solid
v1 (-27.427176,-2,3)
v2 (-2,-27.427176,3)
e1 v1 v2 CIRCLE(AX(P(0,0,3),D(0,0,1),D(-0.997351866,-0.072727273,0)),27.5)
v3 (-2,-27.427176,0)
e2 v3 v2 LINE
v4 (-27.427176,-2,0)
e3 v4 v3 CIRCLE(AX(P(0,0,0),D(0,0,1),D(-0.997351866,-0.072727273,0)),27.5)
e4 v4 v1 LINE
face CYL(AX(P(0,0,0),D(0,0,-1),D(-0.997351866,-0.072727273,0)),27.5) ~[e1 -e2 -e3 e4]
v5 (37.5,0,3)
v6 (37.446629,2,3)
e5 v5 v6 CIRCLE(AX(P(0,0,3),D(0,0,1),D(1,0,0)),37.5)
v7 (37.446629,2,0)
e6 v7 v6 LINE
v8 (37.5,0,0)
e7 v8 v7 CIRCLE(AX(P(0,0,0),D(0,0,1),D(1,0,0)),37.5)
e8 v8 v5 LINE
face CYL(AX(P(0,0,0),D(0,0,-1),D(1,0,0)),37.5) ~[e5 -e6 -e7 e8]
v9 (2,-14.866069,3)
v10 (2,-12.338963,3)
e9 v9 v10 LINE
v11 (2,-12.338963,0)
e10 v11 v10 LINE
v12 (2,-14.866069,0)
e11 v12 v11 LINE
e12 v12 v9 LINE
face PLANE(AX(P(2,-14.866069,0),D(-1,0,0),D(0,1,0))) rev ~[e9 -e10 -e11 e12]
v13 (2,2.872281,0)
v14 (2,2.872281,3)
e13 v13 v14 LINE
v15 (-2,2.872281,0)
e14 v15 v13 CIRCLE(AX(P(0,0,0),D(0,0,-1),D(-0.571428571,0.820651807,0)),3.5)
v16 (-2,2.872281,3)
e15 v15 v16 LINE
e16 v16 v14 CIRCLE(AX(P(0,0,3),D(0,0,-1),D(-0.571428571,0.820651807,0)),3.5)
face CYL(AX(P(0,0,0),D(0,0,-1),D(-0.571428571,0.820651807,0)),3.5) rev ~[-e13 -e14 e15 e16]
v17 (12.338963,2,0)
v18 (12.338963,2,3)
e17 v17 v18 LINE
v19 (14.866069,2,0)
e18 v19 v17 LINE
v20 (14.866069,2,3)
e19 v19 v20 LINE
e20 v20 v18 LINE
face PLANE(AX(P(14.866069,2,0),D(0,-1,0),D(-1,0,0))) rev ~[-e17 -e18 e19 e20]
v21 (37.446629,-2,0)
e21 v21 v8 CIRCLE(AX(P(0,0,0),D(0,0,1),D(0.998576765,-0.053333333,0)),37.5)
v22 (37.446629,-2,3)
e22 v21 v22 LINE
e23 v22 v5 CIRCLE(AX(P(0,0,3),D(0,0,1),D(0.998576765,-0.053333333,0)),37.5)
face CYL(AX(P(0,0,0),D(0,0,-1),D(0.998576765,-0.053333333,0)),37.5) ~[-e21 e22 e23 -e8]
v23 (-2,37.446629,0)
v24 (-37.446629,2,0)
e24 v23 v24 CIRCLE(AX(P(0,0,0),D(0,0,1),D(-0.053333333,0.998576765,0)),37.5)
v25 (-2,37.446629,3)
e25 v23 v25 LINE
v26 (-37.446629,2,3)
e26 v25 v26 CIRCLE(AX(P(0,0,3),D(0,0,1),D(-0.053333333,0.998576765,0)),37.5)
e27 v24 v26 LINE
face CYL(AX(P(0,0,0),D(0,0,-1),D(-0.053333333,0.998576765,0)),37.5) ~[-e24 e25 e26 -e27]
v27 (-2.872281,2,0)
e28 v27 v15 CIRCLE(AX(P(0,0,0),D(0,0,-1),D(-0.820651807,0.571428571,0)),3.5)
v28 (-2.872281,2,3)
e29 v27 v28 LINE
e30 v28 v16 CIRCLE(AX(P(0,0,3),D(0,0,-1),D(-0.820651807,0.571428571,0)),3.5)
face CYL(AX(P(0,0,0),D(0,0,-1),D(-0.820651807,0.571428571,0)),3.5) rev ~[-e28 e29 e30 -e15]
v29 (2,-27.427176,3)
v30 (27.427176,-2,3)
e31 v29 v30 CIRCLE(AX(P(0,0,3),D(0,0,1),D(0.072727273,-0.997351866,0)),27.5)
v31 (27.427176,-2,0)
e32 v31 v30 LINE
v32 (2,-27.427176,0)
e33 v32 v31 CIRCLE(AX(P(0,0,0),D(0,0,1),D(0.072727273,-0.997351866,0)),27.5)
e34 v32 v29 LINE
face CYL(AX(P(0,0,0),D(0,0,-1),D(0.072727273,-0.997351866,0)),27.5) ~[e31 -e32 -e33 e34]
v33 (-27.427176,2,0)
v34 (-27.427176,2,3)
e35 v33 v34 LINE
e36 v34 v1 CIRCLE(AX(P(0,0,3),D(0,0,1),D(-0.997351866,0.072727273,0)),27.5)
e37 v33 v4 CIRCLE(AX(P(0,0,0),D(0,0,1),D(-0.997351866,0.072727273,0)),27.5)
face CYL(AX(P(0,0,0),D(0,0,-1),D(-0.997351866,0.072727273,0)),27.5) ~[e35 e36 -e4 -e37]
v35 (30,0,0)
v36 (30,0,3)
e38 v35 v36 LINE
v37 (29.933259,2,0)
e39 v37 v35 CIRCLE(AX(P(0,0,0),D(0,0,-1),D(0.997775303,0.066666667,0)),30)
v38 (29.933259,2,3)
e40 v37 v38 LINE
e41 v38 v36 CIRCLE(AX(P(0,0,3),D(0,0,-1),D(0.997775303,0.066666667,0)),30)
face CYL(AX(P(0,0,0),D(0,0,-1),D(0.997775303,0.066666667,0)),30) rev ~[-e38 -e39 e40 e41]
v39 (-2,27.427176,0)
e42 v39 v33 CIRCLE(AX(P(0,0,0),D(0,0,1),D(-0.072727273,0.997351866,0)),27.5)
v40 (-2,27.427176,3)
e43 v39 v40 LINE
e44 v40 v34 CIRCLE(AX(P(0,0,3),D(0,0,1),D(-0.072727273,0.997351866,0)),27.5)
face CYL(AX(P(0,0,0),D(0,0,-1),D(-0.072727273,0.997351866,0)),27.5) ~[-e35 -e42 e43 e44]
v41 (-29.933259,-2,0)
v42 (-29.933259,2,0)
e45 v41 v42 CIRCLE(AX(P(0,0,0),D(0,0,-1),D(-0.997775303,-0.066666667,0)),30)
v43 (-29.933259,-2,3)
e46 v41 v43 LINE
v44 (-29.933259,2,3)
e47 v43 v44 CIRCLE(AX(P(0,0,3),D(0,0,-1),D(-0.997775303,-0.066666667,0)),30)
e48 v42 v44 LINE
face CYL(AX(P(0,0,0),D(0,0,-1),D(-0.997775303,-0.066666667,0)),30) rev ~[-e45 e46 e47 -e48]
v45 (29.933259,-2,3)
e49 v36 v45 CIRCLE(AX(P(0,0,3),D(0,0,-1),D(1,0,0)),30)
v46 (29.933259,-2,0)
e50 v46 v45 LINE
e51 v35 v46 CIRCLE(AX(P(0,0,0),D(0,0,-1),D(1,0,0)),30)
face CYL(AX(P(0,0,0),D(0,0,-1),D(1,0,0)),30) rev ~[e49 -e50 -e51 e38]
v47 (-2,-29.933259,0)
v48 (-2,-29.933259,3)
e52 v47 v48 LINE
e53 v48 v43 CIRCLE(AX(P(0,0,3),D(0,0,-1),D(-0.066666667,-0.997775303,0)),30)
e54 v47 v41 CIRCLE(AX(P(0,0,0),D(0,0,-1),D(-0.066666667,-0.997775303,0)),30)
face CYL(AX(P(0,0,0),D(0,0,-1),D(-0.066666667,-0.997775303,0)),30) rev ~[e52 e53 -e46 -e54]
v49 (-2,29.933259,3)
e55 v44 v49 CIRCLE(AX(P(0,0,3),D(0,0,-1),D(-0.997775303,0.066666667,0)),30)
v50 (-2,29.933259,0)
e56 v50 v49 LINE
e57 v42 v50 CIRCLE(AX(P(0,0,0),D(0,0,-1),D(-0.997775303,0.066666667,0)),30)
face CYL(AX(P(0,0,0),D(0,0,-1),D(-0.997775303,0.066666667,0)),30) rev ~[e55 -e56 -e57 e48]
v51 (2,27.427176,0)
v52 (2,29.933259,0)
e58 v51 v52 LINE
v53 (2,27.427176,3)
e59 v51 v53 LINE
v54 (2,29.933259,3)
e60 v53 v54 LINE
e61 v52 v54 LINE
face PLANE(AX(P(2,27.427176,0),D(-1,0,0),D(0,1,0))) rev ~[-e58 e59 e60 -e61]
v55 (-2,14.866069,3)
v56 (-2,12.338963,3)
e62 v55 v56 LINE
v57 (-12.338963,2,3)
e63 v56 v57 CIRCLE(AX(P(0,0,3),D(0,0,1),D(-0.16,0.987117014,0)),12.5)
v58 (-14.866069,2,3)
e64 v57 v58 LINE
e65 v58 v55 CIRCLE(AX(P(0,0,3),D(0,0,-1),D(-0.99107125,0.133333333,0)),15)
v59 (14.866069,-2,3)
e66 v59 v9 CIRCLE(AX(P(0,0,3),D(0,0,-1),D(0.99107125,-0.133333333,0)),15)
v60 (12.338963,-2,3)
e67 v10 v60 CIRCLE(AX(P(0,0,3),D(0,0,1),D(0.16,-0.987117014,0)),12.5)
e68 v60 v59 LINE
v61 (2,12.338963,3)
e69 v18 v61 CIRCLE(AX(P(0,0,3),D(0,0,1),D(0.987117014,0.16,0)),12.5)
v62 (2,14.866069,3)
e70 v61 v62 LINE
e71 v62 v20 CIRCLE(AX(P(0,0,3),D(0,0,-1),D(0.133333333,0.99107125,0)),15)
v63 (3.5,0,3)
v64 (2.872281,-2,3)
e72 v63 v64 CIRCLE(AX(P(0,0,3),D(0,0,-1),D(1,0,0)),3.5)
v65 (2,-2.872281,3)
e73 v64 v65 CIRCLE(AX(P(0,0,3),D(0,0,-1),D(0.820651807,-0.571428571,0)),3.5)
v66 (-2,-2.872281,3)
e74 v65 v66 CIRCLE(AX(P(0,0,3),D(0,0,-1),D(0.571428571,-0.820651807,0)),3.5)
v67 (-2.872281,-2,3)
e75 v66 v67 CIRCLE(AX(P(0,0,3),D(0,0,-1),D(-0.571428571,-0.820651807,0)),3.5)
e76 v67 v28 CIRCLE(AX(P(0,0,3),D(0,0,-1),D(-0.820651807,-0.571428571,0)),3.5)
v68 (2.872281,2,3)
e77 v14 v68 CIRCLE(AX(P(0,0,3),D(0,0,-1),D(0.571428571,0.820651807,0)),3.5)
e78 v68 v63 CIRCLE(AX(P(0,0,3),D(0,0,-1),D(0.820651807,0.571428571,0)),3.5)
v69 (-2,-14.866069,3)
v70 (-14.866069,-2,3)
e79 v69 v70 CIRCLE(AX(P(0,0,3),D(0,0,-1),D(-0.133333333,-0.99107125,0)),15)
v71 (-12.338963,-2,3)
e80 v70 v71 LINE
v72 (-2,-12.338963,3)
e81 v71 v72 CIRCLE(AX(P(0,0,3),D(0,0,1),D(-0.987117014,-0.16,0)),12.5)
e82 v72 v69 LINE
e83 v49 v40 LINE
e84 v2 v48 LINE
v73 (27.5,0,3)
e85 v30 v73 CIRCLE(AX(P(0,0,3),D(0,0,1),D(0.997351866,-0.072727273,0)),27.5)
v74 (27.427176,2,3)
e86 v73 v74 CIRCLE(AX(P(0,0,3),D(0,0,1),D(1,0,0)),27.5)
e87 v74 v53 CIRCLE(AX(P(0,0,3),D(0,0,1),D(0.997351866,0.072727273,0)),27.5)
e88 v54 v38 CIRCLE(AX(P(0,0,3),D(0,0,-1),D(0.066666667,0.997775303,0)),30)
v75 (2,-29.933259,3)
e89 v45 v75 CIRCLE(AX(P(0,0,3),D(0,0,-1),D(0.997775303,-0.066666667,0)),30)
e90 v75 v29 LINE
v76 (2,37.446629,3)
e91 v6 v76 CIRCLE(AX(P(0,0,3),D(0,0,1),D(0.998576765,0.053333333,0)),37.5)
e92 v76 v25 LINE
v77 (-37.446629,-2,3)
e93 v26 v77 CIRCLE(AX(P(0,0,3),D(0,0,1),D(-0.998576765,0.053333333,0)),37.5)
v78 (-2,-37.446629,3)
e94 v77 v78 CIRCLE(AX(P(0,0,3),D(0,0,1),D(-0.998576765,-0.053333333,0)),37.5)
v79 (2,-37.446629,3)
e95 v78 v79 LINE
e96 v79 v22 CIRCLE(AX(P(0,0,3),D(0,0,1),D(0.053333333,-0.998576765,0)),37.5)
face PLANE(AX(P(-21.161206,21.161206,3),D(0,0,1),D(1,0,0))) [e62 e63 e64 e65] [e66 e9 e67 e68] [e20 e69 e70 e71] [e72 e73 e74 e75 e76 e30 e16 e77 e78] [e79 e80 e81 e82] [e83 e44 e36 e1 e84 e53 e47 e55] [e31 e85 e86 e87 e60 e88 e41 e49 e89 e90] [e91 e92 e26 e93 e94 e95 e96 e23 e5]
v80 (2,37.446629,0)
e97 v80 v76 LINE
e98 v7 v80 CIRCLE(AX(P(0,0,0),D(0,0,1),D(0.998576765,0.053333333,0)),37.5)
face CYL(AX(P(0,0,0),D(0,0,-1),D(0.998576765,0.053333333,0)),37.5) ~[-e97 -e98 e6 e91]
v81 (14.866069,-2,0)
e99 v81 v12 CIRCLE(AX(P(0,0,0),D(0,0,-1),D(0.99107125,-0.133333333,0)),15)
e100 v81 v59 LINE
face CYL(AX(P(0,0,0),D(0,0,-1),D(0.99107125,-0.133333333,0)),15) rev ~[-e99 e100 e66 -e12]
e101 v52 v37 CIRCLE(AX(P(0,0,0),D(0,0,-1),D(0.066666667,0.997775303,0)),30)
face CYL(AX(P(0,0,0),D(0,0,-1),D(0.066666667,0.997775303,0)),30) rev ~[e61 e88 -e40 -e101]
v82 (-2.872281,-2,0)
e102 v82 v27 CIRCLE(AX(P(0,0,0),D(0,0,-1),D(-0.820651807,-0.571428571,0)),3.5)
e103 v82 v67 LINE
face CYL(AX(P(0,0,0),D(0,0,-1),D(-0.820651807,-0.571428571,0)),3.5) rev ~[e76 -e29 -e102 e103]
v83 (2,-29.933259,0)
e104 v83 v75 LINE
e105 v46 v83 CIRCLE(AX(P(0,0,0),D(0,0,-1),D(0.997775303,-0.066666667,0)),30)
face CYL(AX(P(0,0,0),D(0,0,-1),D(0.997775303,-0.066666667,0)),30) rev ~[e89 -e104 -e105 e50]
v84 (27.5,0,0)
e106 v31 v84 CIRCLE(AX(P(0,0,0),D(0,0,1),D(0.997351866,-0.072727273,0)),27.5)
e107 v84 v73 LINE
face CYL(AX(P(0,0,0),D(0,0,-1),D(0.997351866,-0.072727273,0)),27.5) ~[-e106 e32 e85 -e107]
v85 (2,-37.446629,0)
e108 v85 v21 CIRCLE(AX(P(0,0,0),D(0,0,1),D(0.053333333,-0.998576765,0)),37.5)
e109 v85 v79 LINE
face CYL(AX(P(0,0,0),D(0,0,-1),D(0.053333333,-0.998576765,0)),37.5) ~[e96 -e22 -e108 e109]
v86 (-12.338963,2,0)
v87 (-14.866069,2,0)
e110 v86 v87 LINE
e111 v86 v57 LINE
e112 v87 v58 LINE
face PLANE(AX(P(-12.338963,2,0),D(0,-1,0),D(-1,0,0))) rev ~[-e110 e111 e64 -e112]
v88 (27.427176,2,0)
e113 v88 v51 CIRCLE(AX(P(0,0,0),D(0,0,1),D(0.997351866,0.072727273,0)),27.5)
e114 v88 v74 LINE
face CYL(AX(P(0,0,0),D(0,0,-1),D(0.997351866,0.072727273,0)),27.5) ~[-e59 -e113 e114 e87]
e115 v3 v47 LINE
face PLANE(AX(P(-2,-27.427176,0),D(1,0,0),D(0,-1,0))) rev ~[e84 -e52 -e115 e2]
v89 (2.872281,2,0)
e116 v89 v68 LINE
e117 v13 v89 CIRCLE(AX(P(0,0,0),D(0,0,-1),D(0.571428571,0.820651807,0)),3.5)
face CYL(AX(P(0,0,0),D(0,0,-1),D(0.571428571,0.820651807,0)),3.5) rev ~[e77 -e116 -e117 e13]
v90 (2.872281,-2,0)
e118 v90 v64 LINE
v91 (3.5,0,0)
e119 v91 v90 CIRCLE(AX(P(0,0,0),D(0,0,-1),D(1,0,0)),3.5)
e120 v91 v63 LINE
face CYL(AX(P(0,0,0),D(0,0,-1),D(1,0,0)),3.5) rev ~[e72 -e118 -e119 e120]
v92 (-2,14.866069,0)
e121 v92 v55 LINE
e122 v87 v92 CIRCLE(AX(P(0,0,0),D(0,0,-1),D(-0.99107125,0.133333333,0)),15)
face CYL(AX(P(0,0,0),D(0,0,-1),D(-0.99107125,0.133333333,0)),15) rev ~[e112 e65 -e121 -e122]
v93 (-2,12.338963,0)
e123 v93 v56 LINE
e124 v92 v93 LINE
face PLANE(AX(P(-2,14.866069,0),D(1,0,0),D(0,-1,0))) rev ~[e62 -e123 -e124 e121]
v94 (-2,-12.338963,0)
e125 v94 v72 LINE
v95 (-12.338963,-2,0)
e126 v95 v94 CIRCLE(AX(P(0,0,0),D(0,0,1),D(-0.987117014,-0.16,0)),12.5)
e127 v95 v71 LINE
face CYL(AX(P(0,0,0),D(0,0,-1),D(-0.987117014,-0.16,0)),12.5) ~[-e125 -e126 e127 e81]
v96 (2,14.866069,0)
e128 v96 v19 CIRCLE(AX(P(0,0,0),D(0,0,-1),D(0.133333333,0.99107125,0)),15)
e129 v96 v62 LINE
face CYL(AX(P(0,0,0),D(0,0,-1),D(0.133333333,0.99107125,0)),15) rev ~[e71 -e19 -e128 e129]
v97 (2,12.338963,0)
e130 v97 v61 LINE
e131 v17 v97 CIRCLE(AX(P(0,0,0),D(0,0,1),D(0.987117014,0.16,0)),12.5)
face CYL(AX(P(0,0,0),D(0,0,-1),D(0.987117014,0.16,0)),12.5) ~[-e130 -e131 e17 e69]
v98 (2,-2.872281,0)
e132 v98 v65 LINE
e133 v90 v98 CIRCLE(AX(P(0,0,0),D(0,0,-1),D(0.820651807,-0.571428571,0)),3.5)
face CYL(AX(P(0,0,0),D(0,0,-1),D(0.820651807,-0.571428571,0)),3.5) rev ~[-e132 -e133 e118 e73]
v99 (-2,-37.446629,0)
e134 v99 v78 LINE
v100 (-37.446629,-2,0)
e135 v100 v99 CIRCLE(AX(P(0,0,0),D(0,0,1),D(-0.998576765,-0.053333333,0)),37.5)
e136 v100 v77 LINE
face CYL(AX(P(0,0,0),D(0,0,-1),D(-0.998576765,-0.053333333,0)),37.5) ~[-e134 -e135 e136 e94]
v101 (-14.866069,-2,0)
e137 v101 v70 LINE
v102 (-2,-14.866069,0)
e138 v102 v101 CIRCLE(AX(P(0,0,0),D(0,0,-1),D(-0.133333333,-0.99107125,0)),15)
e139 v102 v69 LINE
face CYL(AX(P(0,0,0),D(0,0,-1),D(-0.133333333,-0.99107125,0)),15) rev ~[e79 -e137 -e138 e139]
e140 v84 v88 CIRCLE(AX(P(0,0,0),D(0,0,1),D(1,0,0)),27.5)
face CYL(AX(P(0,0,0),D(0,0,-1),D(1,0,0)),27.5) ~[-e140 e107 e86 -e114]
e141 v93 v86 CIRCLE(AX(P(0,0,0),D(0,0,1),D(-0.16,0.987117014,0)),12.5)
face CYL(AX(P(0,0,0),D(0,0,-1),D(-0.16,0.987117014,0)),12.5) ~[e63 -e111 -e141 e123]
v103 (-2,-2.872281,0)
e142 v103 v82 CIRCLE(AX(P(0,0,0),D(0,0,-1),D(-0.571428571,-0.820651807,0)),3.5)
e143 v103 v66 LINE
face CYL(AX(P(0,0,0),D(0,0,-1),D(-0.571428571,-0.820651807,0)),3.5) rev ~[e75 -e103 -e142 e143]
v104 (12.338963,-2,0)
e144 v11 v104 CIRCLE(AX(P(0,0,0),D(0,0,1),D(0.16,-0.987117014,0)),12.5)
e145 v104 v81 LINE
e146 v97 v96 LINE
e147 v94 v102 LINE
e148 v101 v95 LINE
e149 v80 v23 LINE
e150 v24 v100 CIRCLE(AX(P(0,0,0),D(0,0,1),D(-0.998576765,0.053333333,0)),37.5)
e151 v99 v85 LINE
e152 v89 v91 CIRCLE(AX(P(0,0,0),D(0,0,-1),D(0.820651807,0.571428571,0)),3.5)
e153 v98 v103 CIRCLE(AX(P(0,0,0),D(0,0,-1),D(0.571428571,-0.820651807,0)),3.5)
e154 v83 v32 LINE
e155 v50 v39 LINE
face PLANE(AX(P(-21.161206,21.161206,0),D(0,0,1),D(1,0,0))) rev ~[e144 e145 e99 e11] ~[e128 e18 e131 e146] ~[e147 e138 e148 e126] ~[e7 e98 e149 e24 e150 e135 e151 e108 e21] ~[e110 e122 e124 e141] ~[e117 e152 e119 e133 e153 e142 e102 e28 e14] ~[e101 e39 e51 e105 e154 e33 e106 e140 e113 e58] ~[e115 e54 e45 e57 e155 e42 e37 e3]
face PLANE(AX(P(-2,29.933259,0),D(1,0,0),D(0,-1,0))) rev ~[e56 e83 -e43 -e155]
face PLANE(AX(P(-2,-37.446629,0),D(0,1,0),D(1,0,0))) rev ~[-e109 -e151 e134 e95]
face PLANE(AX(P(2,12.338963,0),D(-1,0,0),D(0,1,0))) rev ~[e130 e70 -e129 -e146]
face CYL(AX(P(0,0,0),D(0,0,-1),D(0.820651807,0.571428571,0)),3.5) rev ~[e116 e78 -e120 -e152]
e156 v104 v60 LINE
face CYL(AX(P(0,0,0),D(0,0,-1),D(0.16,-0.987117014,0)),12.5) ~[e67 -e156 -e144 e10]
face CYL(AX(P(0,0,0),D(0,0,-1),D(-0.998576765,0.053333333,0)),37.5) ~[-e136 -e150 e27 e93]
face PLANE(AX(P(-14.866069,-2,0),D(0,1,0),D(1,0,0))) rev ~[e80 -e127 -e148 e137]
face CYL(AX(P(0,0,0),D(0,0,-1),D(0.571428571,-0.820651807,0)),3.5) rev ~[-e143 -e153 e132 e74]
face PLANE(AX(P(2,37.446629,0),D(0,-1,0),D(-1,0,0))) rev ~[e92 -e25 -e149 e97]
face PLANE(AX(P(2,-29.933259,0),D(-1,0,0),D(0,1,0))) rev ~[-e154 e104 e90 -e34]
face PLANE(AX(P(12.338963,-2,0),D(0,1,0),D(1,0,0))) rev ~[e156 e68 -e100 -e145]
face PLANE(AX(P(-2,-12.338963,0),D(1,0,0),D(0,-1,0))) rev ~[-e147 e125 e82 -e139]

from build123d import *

# Parameters (mm, degrees)
F1_DEPTH = 3


with BuildPart() as f1:
    # F0 (on Top) → F1 (new body)
    with BuildSketch(Plane.XY):
        with BuildLine():
            Line((-2, 29.9332590942), (-2, 37.4466286867))
            ThreePointArc((-2, 37.4466286867), (-26.5165042945, 26.5165042945), (-37.4466286867, 2))
            Line((-37.4466286867, 2), (-29.9332590942, 2))
            ThreePointArc((-29.9332590942, 2), (-21.2132034356, 21.2132034356), (-2, 29.9332590942))
        make_face()
        with BuildLine():
            Line((-29.9332590942, -2), (-37.4466286867, -2))
            ThreePointArc((-37.4466286867, -2), (-26.5165042945, -26.5165042945), (-2, -37.4466286867))
            Line((-2, -37.4466286867), (-2, -29.9332590942))
            ThreePointArc((-2, -29.9332590942), (-21.2132034356, -21.2132034356), (-29.9332590942, -2))
        make_face()
        with BuildLine():
            Line((-14.8660687473, -2), (-27.4271763038, -2))
            ThreePointArc((-27.4271763038, -2), (-19.4454364826, -19.4454364826), (-2, -27.4271763038))
            Line((-2, -27.4271763038), (-2, -14.8660687473))
            ThreePointArc((-2, -14.8660687473), (-10.6066017178, -10.6066017178), (-14.8660687473, -2))
        make_face()
        with BuildLine():
            Line((-2, 14.8660687473), (-2, 27.4271763038))
            ThreePointArc((-2, 27.4271763038), (-19.4454364826, 19.4454364826), (-27.4271763038, 2))
            Line((-27.4271763038, 2), (-14.8660687473, 2))
            ThreePointArc((-14.8660687473, 2), (-10.6066017178, 10.6066017178), (-2, 14.8660687473))
        make_face()
        with BuildLine():
            ThreePointArc((27.4271763038, 2), (19.4454364826, 19.4454364826), (2, 27.4271763038))
            Line((2, 27.4271763038), (2, 14.8660687473))
            ThreePointArc((2, 14.8660687473), (10.6066017178, 10.6066017178), (14.8660687473, 2))
            Line((14.8660687473, 2), (27.4271763038, 2))
        make_face()
        with BuildLine():
            ThreePointArc((2, -27.4271763038), (19.4454364826, -19.4454364826), (27.4271763038, -2))
            Line((27.4271763038, -2), (14.8660687473, -2))
            ThreePointArc((14.8660687473, -2), (10.6066017178, -10.6066017178), (2, -14.8660687473))
            Line((2, -14.8660687473), (2, -27.4271763038))
        make_face()
        with BuildLine():
            ThreePointArc((2, -37.4466286867), (26.5165042945, -26.5165042945), (37.4466286867, -2))
            Line((37.4466286867, -2), (29.9332590942, -2))
            ThreePointArc((29.9332590942, -2), (21.2132034356, -21.2132034356), (2, -29.9332590942))
            Line((2, -29.9332590942), (2, -37.4466286867))
        make_face()
        with BuildLine():
            ThreePointArc((37.4466286867, 2), (26.5165042945, 26.5165042945), (2, 37.4466286867))
            Line((2, 37.4466286867), (2, 29.9332590942))
            ThreePointArc((2, 29.9332590942), (21.2132034356, 21.2132034356), (29.9332590942, 2))
            Line((29.9332590942, 2), (37.4466286867, 2))
        make_face()
        with BuildLine():
            Line((2, 14.8660687473), (2, 27.4271763038))
            ThreePointArc((2, 27.4271763038), (0, 27.5), (-2, 27.4271763038))
            Line((-2, 27.4271763038), (-2, 14.8660687473))
            ThreePointArc((-2, 14.8660687473), (0, 15), (2, 14.8660687473))
        make_face()
        with BuildLine():
            Line((2, 27.4271763038), (2, 29.9332590942))
            ThreePointArc((2, 29.9332590942), (0, 30), (-2, 29.9332590942))
            Line((-2, 29.9332590942), (-2, 27.4271763038))
            ThreePointArc((-2, 27.4271763038), (0, 27.5), (2, 27.4271763038))
        make_face()
        with BuildLine():
            Line((2, 29.9332590942), (2, 37.4466286867))
            Line((2, 37.4466286867), (-2, 37.4466286867))
            Line((-2, 37.4466286867), (-2, 29.9332590942))
            ThreePointArc((-2, 29.9332590942), (0, 30), (2, 29.9332590942))
        make_face()
        with BuildLine():
            Line((2, 12.3389626793), (2, 14.8660687473))
            ThreePointArc((2, 14.8660687473), (0, 15), (-2, 14.8660687473))
            Line((-2, 14.8660687473), (-2, 12.3389626793))
            ThreePointArc((-2, 12.3389626793), (0, 12.5), (2, 12.3389626793))
        make_face()
        with BuildLine():
            Line((2, 2.8722813233), (2, 12.3389626793))
            ThreePointArc((2, 12.3389626793), (0, 12.5), (-2, 12.3389626793))
            Line((-2, 12.3389626793), (-2, 2.8722813233))
            ThreePointArc((-2, 2.8722813233), (0, 3.5), (2, 2.8722813233))
        make_face()
        with BuildLine():
            Line((-2.8722813233, 2), (-12.3389626793, 2))
            ThreePointArc((-12.3389626793, 2), (-12.5, 0), (-12.3389626793, -2))
            Line((-12.3389626793, -2), (-2.8722813233, -2))
            ThreePointArc((-2.8722813233, -2), (-3.5, 0), (-2.8722813233, 2))
        make_face()
        with BuildLine():
            Line((-14.8660687473, 2), (-27.4271763038, 2))
            ThreePointArc((-27.4271763038, 2), (-27.5, 0), (-27.4271763038, -2))
            Line((-27.4271763038, -2), (-14.8660687473, -2))
            ThreePointArc((-14.8660687473, -2), (-15, 0), (-14.8660687473, 2))
        make_face()
        with BuildLine():
            Line((-12.3389626793, 2), (-14.8660687473, 2))
            ThreePointArc((-14.8660687473, 2), (-15, 0), (-14.8660687473, -2))
            Line((-14.8660687473, -2), (-12.3389626793, -2))
            ThreePointArc((-12.3389626793, -2), (-12.5, 0), (-12.3389626793, 2))
        make_face()
        with BuildLine():
            Line((-2, 2.8722813233), (-2, 12.3389626793))
            ThreePointArc((-2, 12.3389626793), (-8.8388347648, 8.8388347648), (-12.3389626793, 2))
            Line((-12.3389626793, 2), (-2.8722813233, 2))
            ThreePointArc((-2.8722813233, 2), (-2.4748737342, 2.4748737342), (-2, 2.8722813233))
        make_face()
        with BuildLine():
            Line((-2.8722813233, -2), (-12.3389626793, -2))
            ThreePointArc((-12.3389626793, -2), (-8.8388347648, -8.8388347648), (-2, -12.3389626793))
            Line((-2, -12.3389626793), (-2, -2.8722813233))
            ThreePointArc((-2, -2.8722813233), (-2.4748737342, -2.4748737342), (-2.8722813233, -2))
        make_face()
        with BuildLine():
            ThreePointArc((12.3389626793, 2), (8.8388347648, 8.8388347648), (2, 12.3389626793))
            Line((2, 12.3389626793), (2, 2.8722813233))
            ThreePointArc((2, 2.8722813233), (2.4748737342, 2.4748737342), (2.8722813233, 2))
            Line((2.8722813233, 2), (12.3389626793, 2))
        make_face()
        with BuildLine():
            ThreePointArc((2, -12.3389626793), (8.8388347648, -8.8388347648), (12.3389626793, -2))
            Line((12.3389626793, -2), (2.8722813233, -2))
            ThreePointArc((2.8722813233, -2), (2.4748737342, -2.4748737342), (2, -2.8722813233))
            Line((2, -2.8722813233), (2, -12.3389626793))
        make_face()
        with BuildLine():
            Line((-2, -2.8722813233), (-2, -12.3389626793))
            ThreePointArc((-2, -12.3389626793), (0, -12.5), (2, -12.3389626793))
            Line((2, -12.3389626793), (2, -2.8722813233))
            ThreePointArc((2, -2.8722813233), (0, -3.5), (-2, -2.8722813233))
        make_face()
        with BuildLine():
            Line((-2, -12.3389626793), (-2, -14.8660687473))
            ThreePointArc((-2, -14.8660687473), (0, -15), (2, -14.8660687473))
            Line((2, -14.8660687473), (2, -12.3389626793))
            ThreePointArc((2, -12.3389626793), (0, -12.5), (-2, -12.3389626793))
        make_face()
        with BuildLine():
            Line((-2, -14.8660687473), (-2, -27.4271763038))
            ThreePointArc((-2, -27.4271763038), (0, -27.5), (2, -27.4271763038))
            Line((2, -27.4271763038), (2, -14.8660687473))
            ThreePointArc((2, -14.8660687473), (0, -15), (-2, -14.8660687473))
        make_face()
        with BuildLine():
            Line((-2, -29.9332590942), (-2, -37.4466286867))
            Line((-2, -37.4466286867), (2, -37.4466286867))
            Line((2, -37.4466286867), (2, -29.9332590942))
            ThreePointArc((2, -29.9332590942), (0, -30), (-2, -29.9332590942))
        make_face()
        with BuildLine():
            Line((-2, -27.4271763038), (-2, -29.9332590942))
            ThreePointArc((-2, -29.9332590942), (0, -30), (2, -29.9332590942))
            Line((2, -29.9332590942), (2, -27.4271763038))
            ThreePointArc((2, -27.4271763038), (0, -27.5), (-2, -27.4271763038))
        make_face()
        with BuildLine():
            ThreePointArc((15, 0), (14.9664797332, 1.0022396895), (14.8660687473, 2))
            Line((14.8660687473, 2), (12.3389626793, 2))
            ThreePointArc((12.3389626793, 2), (12.4596756276, 1.0032363902), (12.5, 0))
            ThreePointArc((12.5, 0), (12.4596756276, -1.0032363902), (12.3389626793, -2))
            Line((12.3389626793, -2), (14.8660687473, -2))
            ThreePointArc((14.8660687473, -2), (14.9664797332, -1.0022396895), (15, 0))
        make_face()
        with BuildLine():
            ThreePointArc((12.5, 0), (12.4596756276, 1.0032363902), (12.3389626793, 2))
            Line((12.3389626793, 2), (2.8722813233, 2))
            ThreePointArc((2.8722813233, 2), (3.3393850206, 1.0480971731), (3.5, 0))
            ThreePointArc((3.5, 0), (3.3393850206, -1.0480971731), (2.8722813233, -2))
            Line((2.8722813233, -2), (12.3389626793, -2))
            ThreePointArc((12.3389626793, -2), (12.4596756276, -1.0032363902), (12.5, 0))
        make_face()
        with BuildLine():
            ThreePointArc((27.5, 0), (27.4817880455, 1.0006626918), (27.4271763038, 2))
            Line((27.4271763038, 2), (14.8660687473, 2))
            ThreePointArc((14.8660687473, 2), (14.9664797332, 1.0022396895), (15, 0))
            ThreePointArc((15, 0), (14.9664797332, -1.0022396895), (14.8660687473, -2))
            Line((14.8660687473, -2), (27.4271763038, -2))
            ThreePointArc((27.4271763038, -2), (27.4817880455, -1.0006626918), (27.5, 0))
        make_face()
        with BuildLine():
            ThreePointArc((37.5, 0), (37.4866547971, 1.0003559988), (37.4466286867, 2))
            Line((37.4466286867, 2), (29.9332590942, 2))
            ThreePointArc((29.9332590942, 2), (29.983310131, 1.0005566386), (30, 0))
            ThreePointArc((30, 0), (29.983310131, -1.0005566386), (29.9332590942, -2))
            Line((29.9332590942, -2), (37.4466286867, -2))
            ThreePointArc((37.4466286867, -2), (37.4866547971, -1.0003559988), (37.5, 0))
        make_face()
        with BuildLine():
            Line((-29.9332590942, 2), (-37.4466286867, 2))
            ThreePointArc((-37.4466286867, 2), (-37.5, 0), (-37.4466286867, -2))
            Line((-37.4466286867, -2), (-29.9332590942, -2))
            ThreePointArc((-29.9332590942, -2), (-30, 0), (-29.9332590942, 2))
        make_face()
    extrude(amount=F1_DEPTH)


solid = f1.part
